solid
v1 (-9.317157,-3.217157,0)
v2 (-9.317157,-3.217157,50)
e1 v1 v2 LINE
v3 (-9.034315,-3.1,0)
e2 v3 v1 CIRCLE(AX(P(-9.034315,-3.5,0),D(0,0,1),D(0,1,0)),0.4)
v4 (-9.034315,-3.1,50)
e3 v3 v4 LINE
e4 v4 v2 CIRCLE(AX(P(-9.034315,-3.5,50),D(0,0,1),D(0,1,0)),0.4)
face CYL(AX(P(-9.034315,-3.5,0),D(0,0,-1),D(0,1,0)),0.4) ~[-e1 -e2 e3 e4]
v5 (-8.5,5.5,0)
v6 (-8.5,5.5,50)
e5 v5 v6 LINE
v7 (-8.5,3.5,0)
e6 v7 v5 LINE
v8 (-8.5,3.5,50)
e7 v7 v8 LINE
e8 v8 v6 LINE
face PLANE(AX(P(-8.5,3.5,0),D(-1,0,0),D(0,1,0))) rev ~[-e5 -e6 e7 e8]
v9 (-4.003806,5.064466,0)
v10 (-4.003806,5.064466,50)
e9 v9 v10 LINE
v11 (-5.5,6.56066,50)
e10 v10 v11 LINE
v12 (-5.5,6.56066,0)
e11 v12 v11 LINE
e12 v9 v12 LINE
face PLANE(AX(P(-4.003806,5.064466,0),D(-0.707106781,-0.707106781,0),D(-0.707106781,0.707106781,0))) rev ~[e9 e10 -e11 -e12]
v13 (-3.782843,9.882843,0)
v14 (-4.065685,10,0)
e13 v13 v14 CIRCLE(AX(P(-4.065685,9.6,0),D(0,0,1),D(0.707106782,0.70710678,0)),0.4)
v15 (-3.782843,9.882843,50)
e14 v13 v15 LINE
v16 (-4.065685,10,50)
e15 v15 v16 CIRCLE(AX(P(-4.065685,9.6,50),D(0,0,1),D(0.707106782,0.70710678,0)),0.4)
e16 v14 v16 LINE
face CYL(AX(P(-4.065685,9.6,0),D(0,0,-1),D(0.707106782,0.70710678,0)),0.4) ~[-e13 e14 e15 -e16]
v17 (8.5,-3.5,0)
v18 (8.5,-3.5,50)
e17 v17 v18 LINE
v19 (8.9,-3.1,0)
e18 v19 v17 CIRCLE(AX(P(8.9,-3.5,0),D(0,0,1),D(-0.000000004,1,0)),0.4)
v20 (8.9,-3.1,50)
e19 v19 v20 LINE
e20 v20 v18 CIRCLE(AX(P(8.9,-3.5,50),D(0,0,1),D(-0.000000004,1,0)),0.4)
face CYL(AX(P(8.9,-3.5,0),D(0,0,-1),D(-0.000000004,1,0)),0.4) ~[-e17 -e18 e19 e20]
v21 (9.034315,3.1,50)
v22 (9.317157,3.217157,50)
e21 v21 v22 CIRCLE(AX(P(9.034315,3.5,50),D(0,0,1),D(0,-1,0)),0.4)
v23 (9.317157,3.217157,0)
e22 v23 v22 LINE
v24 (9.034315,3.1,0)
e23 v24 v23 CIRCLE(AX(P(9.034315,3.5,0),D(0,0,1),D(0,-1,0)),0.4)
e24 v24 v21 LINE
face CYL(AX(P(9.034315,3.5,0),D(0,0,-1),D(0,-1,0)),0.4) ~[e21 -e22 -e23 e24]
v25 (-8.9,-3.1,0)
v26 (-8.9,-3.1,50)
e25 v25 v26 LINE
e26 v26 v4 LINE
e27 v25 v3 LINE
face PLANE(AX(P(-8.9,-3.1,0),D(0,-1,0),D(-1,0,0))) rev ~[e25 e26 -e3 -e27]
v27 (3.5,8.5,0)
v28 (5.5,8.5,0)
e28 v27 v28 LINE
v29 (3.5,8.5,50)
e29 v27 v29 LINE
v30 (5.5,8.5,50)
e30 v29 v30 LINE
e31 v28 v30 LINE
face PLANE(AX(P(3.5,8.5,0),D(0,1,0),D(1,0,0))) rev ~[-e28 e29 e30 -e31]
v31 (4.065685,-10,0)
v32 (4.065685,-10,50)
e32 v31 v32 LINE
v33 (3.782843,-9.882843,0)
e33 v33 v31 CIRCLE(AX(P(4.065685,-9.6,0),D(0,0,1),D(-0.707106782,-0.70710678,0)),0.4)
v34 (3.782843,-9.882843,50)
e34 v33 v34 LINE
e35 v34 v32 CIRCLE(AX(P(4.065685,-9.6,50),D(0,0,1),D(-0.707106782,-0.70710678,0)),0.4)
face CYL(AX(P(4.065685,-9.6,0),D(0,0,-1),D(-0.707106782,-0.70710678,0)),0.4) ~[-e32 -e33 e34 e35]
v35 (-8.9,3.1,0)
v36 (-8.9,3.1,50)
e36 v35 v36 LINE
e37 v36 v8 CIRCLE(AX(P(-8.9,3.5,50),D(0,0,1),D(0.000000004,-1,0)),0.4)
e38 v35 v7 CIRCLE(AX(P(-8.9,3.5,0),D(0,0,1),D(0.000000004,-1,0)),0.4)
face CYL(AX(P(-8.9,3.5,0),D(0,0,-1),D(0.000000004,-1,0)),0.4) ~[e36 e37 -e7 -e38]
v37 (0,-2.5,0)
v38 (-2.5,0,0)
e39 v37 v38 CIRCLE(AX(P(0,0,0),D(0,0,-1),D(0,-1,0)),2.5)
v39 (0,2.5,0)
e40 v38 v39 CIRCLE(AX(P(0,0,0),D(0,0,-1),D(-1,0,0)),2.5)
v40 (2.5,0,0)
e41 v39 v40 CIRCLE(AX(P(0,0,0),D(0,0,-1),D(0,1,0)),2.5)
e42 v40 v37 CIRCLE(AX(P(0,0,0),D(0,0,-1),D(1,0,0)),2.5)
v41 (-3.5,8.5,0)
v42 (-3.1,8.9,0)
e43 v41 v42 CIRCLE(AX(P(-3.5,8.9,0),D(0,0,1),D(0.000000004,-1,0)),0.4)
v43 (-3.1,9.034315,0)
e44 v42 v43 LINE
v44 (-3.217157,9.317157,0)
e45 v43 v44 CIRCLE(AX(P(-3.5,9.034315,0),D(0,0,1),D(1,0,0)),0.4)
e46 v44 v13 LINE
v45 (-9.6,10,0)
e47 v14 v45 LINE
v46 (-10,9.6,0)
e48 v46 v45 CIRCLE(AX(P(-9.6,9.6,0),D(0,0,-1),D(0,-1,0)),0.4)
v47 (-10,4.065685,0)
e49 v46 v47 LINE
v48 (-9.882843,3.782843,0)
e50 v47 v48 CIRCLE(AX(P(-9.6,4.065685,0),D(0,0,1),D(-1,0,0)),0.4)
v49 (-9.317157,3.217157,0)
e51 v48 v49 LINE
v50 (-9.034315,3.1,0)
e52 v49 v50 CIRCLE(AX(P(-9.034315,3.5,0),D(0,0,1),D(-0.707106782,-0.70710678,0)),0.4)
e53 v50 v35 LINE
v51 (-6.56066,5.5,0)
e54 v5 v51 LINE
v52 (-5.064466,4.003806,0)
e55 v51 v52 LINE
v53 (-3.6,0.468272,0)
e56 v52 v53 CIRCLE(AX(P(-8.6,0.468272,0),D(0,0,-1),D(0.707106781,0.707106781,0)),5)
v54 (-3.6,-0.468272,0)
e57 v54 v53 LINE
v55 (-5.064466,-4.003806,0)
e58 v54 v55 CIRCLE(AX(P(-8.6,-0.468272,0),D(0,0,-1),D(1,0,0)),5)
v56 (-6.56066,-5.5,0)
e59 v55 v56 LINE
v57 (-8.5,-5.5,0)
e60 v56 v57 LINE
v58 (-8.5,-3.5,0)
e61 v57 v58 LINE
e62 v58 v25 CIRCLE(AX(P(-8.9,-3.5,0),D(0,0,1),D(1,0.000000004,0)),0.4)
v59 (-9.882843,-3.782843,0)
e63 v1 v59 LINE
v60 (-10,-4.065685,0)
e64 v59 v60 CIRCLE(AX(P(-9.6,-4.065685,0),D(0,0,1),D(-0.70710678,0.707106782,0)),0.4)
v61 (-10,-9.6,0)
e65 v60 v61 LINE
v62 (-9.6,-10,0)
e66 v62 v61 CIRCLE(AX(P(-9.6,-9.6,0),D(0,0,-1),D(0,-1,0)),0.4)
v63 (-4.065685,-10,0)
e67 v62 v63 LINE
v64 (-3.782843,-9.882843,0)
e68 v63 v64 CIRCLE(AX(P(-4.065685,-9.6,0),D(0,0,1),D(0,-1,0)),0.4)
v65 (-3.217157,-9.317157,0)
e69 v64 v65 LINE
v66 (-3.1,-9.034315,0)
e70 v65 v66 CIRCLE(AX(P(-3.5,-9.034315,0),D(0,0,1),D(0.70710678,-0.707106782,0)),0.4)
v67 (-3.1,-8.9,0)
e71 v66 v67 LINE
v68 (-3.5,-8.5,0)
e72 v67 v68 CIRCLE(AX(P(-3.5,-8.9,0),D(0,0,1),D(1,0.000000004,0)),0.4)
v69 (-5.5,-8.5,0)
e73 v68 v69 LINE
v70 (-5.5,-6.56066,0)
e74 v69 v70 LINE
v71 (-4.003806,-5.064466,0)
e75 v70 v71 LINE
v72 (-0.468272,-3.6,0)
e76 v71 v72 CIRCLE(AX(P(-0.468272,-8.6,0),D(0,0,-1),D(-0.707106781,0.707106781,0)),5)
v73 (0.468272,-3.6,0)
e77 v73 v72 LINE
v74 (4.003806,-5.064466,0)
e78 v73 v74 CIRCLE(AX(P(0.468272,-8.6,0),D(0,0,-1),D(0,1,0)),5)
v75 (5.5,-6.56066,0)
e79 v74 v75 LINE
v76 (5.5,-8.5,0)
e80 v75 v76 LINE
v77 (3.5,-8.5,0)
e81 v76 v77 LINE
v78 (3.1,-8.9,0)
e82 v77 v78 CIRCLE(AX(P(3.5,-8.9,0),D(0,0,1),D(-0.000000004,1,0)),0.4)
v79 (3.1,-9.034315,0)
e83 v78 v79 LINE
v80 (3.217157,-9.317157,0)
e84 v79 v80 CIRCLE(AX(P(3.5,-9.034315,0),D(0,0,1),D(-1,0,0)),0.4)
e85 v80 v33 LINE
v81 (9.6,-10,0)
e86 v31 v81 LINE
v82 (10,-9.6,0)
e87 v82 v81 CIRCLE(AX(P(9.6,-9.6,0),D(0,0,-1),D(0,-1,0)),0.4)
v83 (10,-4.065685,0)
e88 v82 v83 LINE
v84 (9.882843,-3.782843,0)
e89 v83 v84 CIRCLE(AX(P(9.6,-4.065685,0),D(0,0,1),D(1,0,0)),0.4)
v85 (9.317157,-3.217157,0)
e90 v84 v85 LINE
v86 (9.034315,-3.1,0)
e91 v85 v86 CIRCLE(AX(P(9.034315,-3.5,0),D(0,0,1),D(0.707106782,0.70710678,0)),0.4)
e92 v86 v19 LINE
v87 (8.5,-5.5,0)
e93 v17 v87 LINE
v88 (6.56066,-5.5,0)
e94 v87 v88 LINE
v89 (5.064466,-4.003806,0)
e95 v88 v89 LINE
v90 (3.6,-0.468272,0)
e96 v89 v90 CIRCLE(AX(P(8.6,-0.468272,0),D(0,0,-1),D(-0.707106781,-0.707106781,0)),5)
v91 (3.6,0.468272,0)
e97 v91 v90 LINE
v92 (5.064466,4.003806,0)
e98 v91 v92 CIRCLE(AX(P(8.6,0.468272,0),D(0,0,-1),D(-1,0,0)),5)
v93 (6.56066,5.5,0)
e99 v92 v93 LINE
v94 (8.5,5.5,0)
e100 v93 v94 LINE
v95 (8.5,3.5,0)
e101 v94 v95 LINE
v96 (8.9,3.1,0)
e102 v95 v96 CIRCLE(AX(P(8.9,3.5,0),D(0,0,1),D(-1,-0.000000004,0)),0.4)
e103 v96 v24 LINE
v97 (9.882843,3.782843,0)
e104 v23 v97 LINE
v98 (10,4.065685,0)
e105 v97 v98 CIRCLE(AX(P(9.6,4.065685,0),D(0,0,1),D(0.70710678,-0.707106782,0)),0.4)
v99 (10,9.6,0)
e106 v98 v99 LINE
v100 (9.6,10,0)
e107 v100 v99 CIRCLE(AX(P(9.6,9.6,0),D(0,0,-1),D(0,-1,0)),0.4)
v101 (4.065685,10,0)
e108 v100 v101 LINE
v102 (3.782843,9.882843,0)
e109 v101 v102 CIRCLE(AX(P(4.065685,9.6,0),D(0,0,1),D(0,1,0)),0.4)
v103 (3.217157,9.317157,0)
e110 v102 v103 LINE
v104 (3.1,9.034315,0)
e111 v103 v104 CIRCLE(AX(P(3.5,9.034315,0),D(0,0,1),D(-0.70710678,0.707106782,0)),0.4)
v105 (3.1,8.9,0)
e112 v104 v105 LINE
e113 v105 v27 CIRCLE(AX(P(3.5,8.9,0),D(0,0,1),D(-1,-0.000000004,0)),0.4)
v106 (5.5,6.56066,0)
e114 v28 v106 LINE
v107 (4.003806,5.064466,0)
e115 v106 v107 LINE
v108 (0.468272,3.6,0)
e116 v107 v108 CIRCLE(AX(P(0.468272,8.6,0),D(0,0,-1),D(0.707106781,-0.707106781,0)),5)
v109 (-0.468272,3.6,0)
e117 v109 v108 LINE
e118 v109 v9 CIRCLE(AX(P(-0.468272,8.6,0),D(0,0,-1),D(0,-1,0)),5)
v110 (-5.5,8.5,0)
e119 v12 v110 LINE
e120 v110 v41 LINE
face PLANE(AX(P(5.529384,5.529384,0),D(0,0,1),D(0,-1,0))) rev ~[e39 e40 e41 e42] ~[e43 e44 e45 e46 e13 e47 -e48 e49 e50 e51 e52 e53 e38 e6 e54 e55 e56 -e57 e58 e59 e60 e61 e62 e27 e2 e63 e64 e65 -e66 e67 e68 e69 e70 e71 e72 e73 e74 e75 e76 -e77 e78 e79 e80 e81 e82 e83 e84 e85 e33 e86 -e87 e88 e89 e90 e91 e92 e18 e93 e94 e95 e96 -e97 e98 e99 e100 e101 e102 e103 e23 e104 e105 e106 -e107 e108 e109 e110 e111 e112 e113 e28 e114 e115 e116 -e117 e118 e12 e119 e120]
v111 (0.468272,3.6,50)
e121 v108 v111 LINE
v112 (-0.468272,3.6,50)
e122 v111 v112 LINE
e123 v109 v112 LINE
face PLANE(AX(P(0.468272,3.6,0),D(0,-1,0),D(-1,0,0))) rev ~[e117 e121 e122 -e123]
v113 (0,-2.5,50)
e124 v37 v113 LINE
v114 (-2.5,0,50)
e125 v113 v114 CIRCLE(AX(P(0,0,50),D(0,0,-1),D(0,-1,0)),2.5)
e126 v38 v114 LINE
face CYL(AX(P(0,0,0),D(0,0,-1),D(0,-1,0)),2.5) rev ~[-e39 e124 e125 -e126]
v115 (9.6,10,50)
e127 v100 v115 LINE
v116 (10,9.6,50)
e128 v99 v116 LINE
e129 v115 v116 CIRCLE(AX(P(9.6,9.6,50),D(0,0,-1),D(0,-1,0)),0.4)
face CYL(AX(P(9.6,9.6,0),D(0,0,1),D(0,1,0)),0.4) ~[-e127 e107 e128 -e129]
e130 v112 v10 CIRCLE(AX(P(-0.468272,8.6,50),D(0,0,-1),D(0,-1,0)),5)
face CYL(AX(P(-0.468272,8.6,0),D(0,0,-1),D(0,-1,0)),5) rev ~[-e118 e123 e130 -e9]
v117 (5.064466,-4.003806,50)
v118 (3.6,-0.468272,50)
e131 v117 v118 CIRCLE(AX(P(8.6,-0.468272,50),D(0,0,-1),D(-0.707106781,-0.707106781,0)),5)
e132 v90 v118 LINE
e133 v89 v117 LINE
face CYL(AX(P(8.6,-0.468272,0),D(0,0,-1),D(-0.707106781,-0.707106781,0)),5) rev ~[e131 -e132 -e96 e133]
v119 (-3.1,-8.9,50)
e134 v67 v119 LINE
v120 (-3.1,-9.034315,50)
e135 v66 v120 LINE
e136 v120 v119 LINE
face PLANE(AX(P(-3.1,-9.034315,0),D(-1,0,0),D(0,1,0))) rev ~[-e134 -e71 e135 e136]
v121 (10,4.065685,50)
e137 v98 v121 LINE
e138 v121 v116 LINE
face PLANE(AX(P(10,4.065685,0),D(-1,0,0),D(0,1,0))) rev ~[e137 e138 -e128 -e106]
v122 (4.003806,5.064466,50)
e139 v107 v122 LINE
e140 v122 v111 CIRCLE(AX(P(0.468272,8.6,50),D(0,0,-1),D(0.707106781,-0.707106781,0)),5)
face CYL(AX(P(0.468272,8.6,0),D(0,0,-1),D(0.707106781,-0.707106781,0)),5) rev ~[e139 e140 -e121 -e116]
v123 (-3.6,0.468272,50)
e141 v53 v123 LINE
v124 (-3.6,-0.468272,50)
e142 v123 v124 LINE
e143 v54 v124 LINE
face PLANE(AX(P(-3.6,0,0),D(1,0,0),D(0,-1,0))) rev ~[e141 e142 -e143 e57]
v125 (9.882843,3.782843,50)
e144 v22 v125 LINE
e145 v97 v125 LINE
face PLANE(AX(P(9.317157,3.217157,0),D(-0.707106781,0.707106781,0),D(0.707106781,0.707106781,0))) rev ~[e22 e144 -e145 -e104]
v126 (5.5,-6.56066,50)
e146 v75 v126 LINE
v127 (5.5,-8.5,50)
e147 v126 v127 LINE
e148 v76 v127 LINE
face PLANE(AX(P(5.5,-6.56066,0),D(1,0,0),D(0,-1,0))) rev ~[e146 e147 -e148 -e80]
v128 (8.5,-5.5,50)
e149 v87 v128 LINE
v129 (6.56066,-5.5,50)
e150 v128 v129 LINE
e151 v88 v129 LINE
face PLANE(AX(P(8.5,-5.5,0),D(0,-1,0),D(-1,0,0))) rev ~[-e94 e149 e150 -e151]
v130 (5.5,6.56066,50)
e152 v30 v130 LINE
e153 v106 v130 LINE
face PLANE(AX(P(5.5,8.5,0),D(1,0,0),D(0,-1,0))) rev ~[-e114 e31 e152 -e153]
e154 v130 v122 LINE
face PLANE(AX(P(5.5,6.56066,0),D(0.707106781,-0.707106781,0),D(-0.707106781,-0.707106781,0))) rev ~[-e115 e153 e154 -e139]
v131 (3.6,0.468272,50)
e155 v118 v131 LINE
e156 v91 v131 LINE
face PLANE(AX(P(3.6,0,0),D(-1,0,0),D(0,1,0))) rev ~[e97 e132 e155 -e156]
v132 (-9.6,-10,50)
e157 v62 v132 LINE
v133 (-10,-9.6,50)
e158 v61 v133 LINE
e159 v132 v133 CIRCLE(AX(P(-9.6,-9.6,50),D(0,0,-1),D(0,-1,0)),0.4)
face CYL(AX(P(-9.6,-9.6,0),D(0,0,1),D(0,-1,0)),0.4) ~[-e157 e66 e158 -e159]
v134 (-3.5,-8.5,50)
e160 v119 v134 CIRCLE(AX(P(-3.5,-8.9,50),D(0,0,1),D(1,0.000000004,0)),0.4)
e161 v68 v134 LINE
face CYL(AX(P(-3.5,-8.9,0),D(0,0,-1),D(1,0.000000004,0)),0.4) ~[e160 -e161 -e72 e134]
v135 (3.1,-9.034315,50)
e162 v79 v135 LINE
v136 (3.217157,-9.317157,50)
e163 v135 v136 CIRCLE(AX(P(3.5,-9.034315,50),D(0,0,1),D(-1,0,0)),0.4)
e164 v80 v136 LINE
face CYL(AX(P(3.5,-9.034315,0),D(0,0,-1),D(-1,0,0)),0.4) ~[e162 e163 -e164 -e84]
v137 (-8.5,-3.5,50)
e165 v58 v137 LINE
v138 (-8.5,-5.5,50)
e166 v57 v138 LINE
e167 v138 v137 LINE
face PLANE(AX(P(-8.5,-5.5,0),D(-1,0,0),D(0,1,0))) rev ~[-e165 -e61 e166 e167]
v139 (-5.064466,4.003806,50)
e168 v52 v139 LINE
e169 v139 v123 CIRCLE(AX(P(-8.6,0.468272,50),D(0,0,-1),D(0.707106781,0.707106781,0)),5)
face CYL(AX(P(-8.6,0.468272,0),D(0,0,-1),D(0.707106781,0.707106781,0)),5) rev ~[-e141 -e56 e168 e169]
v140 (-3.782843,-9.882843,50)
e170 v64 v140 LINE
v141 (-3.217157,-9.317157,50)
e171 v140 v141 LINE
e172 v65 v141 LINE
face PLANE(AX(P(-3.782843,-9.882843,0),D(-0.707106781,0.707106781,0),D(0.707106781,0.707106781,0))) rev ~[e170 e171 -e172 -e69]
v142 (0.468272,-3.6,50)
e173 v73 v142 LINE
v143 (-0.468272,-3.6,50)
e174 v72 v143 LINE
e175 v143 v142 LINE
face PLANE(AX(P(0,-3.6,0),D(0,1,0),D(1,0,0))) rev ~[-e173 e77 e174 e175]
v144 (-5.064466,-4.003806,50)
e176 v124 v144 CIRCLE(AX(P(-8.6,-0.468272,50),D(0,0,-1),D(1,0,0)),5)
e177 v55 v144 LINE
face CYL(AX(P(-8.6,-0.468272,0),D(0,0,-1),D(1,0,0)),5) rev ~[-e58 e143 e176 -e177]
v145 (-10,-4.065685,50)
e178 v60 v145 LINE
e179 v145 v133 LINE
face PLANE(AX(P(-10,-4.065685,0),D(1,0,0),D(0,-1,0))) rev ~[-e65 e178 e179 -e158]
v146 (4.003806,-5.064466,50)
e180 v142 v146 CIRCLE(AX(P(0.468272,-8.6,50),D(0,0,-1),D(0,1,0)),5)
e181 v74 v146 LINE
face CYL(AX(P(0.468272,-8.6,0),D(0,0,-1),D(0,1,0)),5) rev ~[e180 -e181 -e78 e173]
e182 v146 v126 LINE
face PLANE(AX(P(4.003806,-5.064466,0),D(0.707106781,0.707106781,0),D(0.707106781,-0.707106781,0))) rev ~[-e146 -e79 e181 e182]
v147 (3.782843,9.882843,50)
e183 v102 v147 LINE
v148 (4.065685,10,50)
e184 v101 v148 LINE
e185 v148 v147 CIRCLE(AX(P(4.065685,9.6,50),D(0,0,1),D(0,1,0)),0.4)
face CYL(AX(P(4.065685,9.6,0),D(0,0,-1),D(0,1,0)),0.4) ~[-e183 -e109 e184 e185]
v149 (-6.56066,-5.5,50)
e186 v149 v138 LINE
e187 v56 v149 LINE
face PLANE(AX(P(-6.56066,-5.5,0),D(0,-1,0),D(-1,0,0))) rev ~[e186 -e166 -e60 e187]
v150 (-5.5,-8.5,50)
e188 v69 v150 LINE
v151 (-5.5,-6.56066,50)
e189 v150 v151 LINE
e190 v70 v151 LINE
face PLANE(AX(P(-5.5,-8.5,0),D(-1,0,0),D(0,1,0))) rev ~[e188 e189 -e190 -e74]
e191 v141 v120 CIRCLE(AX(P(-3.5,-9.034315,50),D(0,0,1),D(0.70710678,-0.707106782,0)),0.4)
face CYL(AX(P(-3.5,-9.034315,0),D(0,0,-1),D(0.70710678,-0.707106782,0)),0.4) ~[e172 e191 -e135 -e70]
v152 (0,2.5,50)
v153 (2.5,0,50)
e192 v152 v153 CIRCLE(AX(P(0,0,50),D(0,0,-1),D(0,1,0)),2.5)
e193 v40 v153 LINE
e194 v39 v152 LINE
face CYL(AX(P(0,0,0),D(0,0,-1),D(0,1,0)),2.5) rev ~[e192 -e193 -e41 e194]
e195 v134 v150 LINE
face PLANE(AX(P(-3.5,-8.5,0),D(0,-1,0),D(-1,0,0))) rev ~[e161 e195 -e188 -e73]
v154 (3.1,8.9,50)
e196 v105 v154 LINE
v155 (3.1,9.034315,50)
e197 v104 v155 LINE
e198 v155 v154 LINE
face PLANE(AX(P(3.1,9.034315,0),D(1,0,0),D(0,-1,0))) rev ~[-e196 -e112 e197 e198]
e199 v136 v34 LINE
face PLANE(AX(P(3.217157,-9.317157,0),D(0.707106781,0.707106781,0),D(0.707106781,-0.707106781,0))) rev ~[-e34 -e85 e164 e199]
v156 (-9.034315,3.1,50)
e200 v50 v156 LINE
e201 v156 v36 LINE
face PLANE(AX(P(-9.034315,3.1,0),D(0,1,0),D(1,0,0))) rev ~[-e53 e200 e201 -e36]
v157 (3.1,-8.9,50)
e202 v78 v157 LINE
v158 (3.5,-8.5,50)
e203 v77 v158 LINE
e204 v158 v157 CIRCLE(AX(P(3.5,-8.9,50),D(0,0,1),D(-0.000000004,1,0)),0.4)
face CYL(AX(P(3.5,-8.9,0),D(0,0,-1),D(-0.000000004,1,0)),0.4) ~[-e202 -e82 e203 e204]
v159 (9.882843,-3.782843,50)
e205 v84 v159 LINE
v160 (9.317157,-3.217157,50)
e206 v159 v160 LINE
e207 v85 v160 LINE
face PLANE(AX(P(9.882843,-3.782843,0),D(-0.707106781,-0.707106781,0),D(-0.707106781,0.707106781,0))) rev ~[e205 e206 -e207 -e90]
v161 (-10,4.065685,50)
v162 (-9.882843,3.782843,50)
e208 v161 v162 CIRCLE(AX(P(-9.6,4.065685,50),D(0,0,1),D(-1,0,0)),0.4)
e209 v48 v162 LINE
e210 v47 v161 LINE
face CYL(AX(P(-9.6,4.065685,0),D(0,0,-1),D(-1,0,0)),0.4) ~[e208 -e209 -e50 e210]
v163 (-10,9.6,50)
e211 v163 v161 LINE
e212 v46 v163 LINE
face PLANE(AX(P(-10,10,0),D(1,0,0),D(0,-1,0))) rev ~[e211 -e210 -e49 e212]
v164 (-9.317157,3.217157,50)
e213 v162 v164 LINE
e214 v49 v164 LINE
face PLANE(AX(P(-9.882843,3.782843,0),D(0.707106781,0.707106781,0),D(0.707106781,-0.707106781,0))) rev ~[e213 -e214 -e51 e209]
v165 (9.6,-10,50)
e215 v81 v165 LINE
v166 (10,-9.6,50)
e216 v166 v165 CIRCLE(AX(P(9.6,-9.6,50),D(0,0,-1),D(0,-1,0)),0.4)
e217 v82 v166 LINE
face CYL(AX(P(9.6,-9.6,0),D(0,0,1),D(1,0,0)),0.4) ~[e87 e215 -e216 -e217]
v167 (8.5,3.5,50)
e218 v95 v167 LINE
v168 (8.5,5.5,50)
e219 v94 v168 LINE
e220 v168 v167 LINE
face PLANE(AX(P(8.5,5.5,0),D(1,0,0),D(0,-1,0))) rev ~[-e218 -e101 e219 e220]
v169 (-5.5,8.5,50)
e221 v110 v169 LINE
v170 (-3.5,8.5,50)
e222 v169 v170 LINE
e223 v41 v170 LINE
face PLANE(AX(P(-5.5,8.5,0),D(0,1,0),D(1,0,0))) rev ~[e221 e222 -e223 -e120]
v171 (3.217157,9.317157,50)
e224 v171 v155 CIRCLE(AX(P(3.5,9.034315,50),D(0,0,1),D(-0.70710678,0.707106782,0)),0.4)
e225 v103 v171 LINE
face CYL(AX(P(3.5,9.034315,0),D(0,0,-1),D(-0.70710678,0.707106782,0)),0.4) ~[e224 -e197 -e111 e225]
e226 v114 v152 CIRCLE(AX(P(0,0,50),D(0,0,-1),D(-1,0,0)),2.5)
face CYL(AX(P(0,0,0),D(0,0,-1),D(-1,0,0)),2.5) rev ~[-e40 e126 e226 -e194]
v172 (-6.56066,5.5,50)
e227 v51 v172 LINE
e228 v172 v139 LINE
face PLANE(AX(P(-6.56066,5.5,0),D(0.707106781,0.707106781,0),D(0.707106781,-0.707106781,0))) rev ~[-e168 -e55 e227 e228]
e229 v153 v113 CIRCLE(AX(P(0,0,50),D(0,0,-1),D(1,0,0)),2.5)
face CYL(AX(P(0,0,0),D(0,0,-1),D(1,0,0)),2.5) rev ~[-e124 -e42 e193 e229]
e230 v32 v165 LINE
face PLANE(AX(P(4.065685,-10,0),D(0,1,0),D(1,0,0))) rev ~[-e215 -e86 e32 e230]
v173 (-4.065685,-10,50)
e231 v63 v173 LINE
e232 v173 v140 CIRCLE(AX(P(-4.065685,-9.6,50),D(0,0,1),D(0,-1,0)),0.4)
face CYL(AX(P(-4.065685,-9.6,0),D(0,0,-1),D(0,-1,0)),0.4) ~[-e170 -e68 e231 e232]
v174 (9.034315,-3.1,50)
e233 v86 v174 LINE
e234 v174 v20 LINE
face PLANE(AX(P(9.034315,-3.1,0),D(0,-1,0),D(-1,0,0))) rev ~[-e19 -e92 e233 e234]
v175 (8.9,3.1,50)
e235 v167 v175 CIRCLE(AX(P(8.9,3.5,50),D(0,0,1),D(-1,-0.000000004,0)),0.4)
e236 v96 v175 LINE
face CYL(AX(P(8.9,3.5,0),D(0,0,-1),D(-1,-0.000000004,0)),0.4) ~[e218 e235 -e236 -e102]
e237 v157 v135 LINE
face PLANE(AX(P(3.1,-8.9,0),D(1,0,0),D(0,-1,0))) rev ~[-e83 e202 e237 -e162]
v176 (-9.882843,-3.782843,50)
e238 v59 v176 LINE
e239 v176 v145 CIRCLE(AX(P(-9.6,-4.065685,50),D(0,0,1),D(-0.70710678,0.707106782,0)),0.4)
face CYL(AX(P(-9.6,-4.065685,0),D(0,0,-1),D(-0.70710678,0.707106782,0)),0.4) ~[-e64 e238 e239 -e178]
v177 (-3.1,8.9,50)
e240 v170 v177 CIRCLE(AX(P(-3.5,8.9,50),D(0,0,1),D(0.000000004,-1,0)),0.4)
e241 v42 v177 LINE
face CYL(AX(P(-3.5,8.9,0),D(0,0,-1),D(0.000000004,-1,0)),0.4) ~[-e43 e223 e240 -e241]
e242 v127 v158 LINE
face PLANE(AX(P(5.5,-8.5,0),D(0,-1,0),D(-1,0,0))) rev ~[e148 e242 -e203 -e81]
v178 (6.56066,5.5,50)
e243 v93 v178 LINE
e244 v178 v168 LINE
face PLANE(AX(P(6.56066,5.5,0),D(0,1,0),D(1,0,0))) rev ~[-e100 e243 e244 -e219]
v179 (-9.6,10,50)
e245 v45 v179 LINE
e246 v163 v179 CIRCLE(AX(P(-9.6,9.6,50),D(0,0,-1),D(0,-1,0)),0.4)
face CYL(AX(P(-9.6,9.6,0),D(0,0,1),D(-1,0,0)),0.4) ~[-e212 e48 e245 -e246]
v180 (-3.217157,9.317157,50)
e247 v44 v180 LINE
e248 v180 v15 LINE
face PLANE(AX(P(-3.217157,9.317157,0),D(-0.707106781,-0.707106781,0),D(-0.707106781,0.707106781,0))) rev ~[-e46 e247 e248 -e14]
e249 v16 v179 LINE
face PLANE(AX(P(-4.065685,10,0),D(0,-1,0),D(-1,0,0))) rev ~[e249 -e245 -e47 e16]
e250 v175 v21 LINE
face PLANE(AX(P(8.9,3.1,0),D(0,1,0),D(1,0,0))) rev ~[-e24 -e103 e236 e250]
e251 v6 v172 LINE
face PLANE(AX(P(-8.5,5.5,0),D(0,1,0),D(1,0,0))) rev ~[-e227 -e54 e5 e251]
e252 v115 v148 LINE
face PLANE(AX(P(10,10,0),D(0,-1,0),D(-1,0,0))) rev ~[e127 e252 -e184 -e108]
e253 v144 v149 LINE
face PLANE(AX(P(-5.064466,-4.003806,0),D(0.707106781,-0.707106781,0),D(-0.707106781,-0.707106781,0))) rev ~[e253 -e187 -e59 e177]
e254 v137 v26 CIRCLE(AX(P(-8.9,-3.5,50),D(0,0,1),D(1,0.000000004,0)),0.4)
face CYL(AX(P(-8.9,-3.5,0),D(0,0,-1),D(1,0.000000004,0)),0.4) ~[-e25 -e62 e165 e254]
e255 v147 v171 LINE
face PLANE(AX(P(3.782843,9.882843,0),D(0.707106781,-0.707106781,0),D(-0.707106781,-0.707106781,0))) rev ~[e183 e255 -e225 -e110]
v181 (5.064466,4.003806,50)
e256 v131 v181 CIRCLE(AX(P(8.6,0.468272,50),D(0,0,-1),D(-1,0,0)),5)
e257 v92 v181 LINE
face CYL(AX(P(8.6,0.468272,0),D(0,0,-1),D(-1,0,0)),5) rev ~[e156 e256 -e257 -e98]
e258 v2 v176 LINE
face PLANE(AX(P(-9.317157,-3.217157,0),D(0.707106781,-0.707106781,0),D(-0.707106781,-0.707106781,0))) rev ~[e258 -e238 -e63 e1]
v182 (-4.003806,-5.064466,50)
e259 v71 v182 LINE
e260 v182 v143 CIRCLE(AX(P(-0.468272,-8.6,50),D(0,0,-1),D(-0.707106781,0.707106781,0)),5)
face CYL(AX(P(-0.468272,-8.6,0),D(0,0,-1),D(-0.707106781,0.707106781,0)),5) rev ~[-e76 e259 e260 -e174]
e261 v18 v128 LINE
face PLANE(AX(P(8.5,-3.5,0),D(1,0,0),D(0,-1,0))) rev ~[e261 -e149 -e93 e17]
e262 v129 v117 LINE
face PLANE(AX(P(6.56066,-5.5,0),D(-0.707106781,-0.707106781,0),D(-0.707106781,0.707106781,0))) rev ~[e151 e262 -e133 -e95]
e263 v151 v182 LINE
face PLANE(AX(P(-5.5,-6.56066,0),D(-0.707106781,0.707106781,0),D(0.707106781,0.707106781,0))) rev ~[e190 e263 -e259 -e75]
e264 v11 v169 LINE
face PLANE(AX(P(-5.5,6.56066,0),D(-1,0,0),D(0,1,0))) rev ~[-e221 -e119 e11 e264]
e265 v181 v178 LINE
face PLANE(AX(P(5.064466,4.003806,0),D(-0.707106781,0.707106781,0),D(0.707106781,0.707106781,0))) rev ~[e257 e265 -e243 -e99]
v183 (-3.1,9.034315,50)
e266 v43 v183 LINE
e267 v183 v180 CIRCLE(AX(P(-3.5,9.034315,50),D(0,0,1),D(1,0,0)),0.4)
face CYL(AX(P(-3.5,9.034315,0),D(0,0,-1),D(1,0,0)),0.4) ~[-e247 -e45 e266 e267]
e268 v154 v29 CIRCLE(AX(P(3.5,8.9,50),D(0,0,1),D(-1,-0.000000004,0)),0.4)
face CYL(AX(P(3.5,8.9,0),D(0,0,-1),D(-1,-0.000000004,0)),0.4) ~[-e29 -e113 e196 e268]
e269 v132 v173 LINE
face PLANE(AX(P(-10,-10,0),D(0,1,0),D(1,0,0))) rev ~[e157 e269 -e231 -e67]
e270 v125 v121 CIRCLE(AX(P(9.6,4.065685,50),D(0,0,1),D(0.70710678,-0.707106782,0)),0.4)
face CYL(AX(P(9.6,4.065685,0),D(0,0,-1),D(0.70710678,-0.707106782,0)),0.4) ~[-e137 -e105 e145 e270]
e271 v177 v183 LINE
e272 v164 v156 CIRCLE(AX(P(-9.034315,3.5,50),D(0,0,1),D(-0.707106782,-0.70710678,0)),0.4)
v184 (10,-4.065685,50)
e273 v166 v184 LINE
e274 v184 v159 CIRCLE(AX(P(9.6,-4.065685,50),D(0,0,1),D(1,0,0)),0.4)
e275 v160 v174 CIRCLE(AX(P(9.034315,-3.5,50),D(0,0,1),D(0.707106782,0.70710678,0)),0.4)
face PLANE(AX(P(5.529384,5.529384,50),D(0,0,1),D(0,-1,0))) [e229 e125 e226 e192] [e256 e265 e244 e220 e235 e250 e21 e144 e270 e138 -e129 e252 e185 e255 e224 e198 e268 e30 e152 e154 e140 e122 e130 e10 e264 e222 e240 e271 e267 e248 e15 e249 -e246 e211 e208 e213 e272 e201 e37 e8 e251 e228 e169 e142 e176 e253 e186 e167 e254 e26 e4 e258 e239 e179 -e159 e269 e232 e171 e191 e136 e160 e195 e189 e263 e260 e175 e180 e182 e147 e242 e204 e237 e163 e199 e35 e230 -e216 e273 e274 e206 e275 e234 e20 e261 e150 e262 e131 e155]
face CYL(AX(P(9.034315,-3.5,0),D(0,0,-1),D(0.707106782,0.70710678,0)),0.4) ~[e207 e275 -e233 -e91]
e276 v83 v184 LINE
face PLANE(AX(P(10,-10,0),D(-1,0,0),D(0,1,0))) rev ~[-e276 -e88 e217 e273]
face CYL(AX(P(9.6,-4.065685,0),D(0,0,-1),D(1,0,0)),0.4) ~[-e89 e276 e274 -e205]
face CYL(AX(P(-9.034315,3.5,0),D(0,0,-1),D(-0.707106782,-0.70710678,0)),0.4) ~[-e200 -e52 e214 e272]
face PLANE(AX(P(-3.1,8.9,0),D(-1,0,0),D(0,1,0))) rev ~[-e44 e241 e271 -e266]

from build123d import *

# Parameters (mm, degrees)
RESSALTO_EXTRUS_O1_DEPTH = 50
PADR_OCIRCULAR1_COUNT    = 4
FILETE1_R                = 0.4


with BuildPart() as part:
    # Esboço1 → Ressalto-extrusão1 (new body)
    with BuildSketch(Plane.XY):
        with BuildLine():
            ThreePointArc((-9.317157288, 3.217157288), (-9.187387948, 3.130448187), (-9.034314575, 3.1))
            Line((-9.034314575, 3.1), (-8.9, 3.1))
            ThreePointArc((-8.9, 3.1), (-8.617157288, 3.217157288), (-8.5, 3.5))
            Line((-8.5, 3.5), (-8.5, 5.5))
            Line((-8.5, 5.5), (-6.560660172, 5.5))
            Line((-6.560660172, 5.5), (-5.064466094, 4.003805922))
            ThreePointArc((-5.064466094, 4.003805922), (-3.980602337, 2.381689178), (-3.6, 0.468272016))
            Line((-3.6, 0.468272016), (-3.6, 0))
            Line((-3.6, 0), (-2.5, 0))
            ThreePointArc((-2.5, 0), (-1.767766953, 1.767766953), (0, 2.5))
            Line((0, 2.5), (0, 3.6))
            Line((0, 3.6), (-0.468272016, 3.6))
            ThreePointArc((-0.468272016, 3.6), (-2.381689178, 3.980602337), (-4.003805922, 5.064466094))
            Line((-4.003805922, 5.064466094), (-5.5, 6.560660172))
            Line((-5.5, 6.560660172), (-5.5, 8.5))
            Line((-5.5, 8.5), (-3.5, 8.5))
            ThreePointArc((-3.5, 8.5), (-3.217157288, 8.617157288), (-3.1, 8.9))
            Line((-3.1, 8.9), (-3.1, 9.034314575))
            ThreePointArc((-3.1, 9.034314575), (-3.130448187, 9.187387948), (-3.217157288, 9.317157288))
            Line((-3.217157288, 9.317157288), (-3.782842712, 9.882842712))
            ThreePointArc((-3.782842712, 9.882842712), (-3.912612052, 9.969551813), (-4.065685425, 10))
            Line((-4.065685425, 10), (-10, 10))
            Line((-10, 10), (-10, 4.065685425))
            ThreePointArc((-10, 4.065685425), (-9.969551813, 3.912612052), (-9.882842712, 3.782842712))
            Line((-9.882842712, 3.782842712), (-9.317157288, 3.217157288))
        make_face()
    ressalto_extrus_o1 = extrude(amount=RESSALTO_EXTRUS_O1_DEPTH)

    # PadrãoCircular1: Ressalto-extrusão1 ×4 about axis
    padr_ocircular1_axis = Axis((0, 0, 0), (0, 0, 1))
    for i in range(1, PADR_OCIRCULAR1_COUNT):
        add(ressalto_extrus_o1.rotate(padr_ocircular1_axis, i * 360 / PADR_OCIRCULAR1_COUNT))

    # Filete1
    filete1_edges = [part.edges().sort_by_distance(p)[0] for p in [
        (10, -10, 25),
        (10, 10, 25),
        (-10, 10, 25),
        (-10, -10, 25),
    ]]
    fillet(filete1_edges, radius=FILETE1_R)


solid = part.part
